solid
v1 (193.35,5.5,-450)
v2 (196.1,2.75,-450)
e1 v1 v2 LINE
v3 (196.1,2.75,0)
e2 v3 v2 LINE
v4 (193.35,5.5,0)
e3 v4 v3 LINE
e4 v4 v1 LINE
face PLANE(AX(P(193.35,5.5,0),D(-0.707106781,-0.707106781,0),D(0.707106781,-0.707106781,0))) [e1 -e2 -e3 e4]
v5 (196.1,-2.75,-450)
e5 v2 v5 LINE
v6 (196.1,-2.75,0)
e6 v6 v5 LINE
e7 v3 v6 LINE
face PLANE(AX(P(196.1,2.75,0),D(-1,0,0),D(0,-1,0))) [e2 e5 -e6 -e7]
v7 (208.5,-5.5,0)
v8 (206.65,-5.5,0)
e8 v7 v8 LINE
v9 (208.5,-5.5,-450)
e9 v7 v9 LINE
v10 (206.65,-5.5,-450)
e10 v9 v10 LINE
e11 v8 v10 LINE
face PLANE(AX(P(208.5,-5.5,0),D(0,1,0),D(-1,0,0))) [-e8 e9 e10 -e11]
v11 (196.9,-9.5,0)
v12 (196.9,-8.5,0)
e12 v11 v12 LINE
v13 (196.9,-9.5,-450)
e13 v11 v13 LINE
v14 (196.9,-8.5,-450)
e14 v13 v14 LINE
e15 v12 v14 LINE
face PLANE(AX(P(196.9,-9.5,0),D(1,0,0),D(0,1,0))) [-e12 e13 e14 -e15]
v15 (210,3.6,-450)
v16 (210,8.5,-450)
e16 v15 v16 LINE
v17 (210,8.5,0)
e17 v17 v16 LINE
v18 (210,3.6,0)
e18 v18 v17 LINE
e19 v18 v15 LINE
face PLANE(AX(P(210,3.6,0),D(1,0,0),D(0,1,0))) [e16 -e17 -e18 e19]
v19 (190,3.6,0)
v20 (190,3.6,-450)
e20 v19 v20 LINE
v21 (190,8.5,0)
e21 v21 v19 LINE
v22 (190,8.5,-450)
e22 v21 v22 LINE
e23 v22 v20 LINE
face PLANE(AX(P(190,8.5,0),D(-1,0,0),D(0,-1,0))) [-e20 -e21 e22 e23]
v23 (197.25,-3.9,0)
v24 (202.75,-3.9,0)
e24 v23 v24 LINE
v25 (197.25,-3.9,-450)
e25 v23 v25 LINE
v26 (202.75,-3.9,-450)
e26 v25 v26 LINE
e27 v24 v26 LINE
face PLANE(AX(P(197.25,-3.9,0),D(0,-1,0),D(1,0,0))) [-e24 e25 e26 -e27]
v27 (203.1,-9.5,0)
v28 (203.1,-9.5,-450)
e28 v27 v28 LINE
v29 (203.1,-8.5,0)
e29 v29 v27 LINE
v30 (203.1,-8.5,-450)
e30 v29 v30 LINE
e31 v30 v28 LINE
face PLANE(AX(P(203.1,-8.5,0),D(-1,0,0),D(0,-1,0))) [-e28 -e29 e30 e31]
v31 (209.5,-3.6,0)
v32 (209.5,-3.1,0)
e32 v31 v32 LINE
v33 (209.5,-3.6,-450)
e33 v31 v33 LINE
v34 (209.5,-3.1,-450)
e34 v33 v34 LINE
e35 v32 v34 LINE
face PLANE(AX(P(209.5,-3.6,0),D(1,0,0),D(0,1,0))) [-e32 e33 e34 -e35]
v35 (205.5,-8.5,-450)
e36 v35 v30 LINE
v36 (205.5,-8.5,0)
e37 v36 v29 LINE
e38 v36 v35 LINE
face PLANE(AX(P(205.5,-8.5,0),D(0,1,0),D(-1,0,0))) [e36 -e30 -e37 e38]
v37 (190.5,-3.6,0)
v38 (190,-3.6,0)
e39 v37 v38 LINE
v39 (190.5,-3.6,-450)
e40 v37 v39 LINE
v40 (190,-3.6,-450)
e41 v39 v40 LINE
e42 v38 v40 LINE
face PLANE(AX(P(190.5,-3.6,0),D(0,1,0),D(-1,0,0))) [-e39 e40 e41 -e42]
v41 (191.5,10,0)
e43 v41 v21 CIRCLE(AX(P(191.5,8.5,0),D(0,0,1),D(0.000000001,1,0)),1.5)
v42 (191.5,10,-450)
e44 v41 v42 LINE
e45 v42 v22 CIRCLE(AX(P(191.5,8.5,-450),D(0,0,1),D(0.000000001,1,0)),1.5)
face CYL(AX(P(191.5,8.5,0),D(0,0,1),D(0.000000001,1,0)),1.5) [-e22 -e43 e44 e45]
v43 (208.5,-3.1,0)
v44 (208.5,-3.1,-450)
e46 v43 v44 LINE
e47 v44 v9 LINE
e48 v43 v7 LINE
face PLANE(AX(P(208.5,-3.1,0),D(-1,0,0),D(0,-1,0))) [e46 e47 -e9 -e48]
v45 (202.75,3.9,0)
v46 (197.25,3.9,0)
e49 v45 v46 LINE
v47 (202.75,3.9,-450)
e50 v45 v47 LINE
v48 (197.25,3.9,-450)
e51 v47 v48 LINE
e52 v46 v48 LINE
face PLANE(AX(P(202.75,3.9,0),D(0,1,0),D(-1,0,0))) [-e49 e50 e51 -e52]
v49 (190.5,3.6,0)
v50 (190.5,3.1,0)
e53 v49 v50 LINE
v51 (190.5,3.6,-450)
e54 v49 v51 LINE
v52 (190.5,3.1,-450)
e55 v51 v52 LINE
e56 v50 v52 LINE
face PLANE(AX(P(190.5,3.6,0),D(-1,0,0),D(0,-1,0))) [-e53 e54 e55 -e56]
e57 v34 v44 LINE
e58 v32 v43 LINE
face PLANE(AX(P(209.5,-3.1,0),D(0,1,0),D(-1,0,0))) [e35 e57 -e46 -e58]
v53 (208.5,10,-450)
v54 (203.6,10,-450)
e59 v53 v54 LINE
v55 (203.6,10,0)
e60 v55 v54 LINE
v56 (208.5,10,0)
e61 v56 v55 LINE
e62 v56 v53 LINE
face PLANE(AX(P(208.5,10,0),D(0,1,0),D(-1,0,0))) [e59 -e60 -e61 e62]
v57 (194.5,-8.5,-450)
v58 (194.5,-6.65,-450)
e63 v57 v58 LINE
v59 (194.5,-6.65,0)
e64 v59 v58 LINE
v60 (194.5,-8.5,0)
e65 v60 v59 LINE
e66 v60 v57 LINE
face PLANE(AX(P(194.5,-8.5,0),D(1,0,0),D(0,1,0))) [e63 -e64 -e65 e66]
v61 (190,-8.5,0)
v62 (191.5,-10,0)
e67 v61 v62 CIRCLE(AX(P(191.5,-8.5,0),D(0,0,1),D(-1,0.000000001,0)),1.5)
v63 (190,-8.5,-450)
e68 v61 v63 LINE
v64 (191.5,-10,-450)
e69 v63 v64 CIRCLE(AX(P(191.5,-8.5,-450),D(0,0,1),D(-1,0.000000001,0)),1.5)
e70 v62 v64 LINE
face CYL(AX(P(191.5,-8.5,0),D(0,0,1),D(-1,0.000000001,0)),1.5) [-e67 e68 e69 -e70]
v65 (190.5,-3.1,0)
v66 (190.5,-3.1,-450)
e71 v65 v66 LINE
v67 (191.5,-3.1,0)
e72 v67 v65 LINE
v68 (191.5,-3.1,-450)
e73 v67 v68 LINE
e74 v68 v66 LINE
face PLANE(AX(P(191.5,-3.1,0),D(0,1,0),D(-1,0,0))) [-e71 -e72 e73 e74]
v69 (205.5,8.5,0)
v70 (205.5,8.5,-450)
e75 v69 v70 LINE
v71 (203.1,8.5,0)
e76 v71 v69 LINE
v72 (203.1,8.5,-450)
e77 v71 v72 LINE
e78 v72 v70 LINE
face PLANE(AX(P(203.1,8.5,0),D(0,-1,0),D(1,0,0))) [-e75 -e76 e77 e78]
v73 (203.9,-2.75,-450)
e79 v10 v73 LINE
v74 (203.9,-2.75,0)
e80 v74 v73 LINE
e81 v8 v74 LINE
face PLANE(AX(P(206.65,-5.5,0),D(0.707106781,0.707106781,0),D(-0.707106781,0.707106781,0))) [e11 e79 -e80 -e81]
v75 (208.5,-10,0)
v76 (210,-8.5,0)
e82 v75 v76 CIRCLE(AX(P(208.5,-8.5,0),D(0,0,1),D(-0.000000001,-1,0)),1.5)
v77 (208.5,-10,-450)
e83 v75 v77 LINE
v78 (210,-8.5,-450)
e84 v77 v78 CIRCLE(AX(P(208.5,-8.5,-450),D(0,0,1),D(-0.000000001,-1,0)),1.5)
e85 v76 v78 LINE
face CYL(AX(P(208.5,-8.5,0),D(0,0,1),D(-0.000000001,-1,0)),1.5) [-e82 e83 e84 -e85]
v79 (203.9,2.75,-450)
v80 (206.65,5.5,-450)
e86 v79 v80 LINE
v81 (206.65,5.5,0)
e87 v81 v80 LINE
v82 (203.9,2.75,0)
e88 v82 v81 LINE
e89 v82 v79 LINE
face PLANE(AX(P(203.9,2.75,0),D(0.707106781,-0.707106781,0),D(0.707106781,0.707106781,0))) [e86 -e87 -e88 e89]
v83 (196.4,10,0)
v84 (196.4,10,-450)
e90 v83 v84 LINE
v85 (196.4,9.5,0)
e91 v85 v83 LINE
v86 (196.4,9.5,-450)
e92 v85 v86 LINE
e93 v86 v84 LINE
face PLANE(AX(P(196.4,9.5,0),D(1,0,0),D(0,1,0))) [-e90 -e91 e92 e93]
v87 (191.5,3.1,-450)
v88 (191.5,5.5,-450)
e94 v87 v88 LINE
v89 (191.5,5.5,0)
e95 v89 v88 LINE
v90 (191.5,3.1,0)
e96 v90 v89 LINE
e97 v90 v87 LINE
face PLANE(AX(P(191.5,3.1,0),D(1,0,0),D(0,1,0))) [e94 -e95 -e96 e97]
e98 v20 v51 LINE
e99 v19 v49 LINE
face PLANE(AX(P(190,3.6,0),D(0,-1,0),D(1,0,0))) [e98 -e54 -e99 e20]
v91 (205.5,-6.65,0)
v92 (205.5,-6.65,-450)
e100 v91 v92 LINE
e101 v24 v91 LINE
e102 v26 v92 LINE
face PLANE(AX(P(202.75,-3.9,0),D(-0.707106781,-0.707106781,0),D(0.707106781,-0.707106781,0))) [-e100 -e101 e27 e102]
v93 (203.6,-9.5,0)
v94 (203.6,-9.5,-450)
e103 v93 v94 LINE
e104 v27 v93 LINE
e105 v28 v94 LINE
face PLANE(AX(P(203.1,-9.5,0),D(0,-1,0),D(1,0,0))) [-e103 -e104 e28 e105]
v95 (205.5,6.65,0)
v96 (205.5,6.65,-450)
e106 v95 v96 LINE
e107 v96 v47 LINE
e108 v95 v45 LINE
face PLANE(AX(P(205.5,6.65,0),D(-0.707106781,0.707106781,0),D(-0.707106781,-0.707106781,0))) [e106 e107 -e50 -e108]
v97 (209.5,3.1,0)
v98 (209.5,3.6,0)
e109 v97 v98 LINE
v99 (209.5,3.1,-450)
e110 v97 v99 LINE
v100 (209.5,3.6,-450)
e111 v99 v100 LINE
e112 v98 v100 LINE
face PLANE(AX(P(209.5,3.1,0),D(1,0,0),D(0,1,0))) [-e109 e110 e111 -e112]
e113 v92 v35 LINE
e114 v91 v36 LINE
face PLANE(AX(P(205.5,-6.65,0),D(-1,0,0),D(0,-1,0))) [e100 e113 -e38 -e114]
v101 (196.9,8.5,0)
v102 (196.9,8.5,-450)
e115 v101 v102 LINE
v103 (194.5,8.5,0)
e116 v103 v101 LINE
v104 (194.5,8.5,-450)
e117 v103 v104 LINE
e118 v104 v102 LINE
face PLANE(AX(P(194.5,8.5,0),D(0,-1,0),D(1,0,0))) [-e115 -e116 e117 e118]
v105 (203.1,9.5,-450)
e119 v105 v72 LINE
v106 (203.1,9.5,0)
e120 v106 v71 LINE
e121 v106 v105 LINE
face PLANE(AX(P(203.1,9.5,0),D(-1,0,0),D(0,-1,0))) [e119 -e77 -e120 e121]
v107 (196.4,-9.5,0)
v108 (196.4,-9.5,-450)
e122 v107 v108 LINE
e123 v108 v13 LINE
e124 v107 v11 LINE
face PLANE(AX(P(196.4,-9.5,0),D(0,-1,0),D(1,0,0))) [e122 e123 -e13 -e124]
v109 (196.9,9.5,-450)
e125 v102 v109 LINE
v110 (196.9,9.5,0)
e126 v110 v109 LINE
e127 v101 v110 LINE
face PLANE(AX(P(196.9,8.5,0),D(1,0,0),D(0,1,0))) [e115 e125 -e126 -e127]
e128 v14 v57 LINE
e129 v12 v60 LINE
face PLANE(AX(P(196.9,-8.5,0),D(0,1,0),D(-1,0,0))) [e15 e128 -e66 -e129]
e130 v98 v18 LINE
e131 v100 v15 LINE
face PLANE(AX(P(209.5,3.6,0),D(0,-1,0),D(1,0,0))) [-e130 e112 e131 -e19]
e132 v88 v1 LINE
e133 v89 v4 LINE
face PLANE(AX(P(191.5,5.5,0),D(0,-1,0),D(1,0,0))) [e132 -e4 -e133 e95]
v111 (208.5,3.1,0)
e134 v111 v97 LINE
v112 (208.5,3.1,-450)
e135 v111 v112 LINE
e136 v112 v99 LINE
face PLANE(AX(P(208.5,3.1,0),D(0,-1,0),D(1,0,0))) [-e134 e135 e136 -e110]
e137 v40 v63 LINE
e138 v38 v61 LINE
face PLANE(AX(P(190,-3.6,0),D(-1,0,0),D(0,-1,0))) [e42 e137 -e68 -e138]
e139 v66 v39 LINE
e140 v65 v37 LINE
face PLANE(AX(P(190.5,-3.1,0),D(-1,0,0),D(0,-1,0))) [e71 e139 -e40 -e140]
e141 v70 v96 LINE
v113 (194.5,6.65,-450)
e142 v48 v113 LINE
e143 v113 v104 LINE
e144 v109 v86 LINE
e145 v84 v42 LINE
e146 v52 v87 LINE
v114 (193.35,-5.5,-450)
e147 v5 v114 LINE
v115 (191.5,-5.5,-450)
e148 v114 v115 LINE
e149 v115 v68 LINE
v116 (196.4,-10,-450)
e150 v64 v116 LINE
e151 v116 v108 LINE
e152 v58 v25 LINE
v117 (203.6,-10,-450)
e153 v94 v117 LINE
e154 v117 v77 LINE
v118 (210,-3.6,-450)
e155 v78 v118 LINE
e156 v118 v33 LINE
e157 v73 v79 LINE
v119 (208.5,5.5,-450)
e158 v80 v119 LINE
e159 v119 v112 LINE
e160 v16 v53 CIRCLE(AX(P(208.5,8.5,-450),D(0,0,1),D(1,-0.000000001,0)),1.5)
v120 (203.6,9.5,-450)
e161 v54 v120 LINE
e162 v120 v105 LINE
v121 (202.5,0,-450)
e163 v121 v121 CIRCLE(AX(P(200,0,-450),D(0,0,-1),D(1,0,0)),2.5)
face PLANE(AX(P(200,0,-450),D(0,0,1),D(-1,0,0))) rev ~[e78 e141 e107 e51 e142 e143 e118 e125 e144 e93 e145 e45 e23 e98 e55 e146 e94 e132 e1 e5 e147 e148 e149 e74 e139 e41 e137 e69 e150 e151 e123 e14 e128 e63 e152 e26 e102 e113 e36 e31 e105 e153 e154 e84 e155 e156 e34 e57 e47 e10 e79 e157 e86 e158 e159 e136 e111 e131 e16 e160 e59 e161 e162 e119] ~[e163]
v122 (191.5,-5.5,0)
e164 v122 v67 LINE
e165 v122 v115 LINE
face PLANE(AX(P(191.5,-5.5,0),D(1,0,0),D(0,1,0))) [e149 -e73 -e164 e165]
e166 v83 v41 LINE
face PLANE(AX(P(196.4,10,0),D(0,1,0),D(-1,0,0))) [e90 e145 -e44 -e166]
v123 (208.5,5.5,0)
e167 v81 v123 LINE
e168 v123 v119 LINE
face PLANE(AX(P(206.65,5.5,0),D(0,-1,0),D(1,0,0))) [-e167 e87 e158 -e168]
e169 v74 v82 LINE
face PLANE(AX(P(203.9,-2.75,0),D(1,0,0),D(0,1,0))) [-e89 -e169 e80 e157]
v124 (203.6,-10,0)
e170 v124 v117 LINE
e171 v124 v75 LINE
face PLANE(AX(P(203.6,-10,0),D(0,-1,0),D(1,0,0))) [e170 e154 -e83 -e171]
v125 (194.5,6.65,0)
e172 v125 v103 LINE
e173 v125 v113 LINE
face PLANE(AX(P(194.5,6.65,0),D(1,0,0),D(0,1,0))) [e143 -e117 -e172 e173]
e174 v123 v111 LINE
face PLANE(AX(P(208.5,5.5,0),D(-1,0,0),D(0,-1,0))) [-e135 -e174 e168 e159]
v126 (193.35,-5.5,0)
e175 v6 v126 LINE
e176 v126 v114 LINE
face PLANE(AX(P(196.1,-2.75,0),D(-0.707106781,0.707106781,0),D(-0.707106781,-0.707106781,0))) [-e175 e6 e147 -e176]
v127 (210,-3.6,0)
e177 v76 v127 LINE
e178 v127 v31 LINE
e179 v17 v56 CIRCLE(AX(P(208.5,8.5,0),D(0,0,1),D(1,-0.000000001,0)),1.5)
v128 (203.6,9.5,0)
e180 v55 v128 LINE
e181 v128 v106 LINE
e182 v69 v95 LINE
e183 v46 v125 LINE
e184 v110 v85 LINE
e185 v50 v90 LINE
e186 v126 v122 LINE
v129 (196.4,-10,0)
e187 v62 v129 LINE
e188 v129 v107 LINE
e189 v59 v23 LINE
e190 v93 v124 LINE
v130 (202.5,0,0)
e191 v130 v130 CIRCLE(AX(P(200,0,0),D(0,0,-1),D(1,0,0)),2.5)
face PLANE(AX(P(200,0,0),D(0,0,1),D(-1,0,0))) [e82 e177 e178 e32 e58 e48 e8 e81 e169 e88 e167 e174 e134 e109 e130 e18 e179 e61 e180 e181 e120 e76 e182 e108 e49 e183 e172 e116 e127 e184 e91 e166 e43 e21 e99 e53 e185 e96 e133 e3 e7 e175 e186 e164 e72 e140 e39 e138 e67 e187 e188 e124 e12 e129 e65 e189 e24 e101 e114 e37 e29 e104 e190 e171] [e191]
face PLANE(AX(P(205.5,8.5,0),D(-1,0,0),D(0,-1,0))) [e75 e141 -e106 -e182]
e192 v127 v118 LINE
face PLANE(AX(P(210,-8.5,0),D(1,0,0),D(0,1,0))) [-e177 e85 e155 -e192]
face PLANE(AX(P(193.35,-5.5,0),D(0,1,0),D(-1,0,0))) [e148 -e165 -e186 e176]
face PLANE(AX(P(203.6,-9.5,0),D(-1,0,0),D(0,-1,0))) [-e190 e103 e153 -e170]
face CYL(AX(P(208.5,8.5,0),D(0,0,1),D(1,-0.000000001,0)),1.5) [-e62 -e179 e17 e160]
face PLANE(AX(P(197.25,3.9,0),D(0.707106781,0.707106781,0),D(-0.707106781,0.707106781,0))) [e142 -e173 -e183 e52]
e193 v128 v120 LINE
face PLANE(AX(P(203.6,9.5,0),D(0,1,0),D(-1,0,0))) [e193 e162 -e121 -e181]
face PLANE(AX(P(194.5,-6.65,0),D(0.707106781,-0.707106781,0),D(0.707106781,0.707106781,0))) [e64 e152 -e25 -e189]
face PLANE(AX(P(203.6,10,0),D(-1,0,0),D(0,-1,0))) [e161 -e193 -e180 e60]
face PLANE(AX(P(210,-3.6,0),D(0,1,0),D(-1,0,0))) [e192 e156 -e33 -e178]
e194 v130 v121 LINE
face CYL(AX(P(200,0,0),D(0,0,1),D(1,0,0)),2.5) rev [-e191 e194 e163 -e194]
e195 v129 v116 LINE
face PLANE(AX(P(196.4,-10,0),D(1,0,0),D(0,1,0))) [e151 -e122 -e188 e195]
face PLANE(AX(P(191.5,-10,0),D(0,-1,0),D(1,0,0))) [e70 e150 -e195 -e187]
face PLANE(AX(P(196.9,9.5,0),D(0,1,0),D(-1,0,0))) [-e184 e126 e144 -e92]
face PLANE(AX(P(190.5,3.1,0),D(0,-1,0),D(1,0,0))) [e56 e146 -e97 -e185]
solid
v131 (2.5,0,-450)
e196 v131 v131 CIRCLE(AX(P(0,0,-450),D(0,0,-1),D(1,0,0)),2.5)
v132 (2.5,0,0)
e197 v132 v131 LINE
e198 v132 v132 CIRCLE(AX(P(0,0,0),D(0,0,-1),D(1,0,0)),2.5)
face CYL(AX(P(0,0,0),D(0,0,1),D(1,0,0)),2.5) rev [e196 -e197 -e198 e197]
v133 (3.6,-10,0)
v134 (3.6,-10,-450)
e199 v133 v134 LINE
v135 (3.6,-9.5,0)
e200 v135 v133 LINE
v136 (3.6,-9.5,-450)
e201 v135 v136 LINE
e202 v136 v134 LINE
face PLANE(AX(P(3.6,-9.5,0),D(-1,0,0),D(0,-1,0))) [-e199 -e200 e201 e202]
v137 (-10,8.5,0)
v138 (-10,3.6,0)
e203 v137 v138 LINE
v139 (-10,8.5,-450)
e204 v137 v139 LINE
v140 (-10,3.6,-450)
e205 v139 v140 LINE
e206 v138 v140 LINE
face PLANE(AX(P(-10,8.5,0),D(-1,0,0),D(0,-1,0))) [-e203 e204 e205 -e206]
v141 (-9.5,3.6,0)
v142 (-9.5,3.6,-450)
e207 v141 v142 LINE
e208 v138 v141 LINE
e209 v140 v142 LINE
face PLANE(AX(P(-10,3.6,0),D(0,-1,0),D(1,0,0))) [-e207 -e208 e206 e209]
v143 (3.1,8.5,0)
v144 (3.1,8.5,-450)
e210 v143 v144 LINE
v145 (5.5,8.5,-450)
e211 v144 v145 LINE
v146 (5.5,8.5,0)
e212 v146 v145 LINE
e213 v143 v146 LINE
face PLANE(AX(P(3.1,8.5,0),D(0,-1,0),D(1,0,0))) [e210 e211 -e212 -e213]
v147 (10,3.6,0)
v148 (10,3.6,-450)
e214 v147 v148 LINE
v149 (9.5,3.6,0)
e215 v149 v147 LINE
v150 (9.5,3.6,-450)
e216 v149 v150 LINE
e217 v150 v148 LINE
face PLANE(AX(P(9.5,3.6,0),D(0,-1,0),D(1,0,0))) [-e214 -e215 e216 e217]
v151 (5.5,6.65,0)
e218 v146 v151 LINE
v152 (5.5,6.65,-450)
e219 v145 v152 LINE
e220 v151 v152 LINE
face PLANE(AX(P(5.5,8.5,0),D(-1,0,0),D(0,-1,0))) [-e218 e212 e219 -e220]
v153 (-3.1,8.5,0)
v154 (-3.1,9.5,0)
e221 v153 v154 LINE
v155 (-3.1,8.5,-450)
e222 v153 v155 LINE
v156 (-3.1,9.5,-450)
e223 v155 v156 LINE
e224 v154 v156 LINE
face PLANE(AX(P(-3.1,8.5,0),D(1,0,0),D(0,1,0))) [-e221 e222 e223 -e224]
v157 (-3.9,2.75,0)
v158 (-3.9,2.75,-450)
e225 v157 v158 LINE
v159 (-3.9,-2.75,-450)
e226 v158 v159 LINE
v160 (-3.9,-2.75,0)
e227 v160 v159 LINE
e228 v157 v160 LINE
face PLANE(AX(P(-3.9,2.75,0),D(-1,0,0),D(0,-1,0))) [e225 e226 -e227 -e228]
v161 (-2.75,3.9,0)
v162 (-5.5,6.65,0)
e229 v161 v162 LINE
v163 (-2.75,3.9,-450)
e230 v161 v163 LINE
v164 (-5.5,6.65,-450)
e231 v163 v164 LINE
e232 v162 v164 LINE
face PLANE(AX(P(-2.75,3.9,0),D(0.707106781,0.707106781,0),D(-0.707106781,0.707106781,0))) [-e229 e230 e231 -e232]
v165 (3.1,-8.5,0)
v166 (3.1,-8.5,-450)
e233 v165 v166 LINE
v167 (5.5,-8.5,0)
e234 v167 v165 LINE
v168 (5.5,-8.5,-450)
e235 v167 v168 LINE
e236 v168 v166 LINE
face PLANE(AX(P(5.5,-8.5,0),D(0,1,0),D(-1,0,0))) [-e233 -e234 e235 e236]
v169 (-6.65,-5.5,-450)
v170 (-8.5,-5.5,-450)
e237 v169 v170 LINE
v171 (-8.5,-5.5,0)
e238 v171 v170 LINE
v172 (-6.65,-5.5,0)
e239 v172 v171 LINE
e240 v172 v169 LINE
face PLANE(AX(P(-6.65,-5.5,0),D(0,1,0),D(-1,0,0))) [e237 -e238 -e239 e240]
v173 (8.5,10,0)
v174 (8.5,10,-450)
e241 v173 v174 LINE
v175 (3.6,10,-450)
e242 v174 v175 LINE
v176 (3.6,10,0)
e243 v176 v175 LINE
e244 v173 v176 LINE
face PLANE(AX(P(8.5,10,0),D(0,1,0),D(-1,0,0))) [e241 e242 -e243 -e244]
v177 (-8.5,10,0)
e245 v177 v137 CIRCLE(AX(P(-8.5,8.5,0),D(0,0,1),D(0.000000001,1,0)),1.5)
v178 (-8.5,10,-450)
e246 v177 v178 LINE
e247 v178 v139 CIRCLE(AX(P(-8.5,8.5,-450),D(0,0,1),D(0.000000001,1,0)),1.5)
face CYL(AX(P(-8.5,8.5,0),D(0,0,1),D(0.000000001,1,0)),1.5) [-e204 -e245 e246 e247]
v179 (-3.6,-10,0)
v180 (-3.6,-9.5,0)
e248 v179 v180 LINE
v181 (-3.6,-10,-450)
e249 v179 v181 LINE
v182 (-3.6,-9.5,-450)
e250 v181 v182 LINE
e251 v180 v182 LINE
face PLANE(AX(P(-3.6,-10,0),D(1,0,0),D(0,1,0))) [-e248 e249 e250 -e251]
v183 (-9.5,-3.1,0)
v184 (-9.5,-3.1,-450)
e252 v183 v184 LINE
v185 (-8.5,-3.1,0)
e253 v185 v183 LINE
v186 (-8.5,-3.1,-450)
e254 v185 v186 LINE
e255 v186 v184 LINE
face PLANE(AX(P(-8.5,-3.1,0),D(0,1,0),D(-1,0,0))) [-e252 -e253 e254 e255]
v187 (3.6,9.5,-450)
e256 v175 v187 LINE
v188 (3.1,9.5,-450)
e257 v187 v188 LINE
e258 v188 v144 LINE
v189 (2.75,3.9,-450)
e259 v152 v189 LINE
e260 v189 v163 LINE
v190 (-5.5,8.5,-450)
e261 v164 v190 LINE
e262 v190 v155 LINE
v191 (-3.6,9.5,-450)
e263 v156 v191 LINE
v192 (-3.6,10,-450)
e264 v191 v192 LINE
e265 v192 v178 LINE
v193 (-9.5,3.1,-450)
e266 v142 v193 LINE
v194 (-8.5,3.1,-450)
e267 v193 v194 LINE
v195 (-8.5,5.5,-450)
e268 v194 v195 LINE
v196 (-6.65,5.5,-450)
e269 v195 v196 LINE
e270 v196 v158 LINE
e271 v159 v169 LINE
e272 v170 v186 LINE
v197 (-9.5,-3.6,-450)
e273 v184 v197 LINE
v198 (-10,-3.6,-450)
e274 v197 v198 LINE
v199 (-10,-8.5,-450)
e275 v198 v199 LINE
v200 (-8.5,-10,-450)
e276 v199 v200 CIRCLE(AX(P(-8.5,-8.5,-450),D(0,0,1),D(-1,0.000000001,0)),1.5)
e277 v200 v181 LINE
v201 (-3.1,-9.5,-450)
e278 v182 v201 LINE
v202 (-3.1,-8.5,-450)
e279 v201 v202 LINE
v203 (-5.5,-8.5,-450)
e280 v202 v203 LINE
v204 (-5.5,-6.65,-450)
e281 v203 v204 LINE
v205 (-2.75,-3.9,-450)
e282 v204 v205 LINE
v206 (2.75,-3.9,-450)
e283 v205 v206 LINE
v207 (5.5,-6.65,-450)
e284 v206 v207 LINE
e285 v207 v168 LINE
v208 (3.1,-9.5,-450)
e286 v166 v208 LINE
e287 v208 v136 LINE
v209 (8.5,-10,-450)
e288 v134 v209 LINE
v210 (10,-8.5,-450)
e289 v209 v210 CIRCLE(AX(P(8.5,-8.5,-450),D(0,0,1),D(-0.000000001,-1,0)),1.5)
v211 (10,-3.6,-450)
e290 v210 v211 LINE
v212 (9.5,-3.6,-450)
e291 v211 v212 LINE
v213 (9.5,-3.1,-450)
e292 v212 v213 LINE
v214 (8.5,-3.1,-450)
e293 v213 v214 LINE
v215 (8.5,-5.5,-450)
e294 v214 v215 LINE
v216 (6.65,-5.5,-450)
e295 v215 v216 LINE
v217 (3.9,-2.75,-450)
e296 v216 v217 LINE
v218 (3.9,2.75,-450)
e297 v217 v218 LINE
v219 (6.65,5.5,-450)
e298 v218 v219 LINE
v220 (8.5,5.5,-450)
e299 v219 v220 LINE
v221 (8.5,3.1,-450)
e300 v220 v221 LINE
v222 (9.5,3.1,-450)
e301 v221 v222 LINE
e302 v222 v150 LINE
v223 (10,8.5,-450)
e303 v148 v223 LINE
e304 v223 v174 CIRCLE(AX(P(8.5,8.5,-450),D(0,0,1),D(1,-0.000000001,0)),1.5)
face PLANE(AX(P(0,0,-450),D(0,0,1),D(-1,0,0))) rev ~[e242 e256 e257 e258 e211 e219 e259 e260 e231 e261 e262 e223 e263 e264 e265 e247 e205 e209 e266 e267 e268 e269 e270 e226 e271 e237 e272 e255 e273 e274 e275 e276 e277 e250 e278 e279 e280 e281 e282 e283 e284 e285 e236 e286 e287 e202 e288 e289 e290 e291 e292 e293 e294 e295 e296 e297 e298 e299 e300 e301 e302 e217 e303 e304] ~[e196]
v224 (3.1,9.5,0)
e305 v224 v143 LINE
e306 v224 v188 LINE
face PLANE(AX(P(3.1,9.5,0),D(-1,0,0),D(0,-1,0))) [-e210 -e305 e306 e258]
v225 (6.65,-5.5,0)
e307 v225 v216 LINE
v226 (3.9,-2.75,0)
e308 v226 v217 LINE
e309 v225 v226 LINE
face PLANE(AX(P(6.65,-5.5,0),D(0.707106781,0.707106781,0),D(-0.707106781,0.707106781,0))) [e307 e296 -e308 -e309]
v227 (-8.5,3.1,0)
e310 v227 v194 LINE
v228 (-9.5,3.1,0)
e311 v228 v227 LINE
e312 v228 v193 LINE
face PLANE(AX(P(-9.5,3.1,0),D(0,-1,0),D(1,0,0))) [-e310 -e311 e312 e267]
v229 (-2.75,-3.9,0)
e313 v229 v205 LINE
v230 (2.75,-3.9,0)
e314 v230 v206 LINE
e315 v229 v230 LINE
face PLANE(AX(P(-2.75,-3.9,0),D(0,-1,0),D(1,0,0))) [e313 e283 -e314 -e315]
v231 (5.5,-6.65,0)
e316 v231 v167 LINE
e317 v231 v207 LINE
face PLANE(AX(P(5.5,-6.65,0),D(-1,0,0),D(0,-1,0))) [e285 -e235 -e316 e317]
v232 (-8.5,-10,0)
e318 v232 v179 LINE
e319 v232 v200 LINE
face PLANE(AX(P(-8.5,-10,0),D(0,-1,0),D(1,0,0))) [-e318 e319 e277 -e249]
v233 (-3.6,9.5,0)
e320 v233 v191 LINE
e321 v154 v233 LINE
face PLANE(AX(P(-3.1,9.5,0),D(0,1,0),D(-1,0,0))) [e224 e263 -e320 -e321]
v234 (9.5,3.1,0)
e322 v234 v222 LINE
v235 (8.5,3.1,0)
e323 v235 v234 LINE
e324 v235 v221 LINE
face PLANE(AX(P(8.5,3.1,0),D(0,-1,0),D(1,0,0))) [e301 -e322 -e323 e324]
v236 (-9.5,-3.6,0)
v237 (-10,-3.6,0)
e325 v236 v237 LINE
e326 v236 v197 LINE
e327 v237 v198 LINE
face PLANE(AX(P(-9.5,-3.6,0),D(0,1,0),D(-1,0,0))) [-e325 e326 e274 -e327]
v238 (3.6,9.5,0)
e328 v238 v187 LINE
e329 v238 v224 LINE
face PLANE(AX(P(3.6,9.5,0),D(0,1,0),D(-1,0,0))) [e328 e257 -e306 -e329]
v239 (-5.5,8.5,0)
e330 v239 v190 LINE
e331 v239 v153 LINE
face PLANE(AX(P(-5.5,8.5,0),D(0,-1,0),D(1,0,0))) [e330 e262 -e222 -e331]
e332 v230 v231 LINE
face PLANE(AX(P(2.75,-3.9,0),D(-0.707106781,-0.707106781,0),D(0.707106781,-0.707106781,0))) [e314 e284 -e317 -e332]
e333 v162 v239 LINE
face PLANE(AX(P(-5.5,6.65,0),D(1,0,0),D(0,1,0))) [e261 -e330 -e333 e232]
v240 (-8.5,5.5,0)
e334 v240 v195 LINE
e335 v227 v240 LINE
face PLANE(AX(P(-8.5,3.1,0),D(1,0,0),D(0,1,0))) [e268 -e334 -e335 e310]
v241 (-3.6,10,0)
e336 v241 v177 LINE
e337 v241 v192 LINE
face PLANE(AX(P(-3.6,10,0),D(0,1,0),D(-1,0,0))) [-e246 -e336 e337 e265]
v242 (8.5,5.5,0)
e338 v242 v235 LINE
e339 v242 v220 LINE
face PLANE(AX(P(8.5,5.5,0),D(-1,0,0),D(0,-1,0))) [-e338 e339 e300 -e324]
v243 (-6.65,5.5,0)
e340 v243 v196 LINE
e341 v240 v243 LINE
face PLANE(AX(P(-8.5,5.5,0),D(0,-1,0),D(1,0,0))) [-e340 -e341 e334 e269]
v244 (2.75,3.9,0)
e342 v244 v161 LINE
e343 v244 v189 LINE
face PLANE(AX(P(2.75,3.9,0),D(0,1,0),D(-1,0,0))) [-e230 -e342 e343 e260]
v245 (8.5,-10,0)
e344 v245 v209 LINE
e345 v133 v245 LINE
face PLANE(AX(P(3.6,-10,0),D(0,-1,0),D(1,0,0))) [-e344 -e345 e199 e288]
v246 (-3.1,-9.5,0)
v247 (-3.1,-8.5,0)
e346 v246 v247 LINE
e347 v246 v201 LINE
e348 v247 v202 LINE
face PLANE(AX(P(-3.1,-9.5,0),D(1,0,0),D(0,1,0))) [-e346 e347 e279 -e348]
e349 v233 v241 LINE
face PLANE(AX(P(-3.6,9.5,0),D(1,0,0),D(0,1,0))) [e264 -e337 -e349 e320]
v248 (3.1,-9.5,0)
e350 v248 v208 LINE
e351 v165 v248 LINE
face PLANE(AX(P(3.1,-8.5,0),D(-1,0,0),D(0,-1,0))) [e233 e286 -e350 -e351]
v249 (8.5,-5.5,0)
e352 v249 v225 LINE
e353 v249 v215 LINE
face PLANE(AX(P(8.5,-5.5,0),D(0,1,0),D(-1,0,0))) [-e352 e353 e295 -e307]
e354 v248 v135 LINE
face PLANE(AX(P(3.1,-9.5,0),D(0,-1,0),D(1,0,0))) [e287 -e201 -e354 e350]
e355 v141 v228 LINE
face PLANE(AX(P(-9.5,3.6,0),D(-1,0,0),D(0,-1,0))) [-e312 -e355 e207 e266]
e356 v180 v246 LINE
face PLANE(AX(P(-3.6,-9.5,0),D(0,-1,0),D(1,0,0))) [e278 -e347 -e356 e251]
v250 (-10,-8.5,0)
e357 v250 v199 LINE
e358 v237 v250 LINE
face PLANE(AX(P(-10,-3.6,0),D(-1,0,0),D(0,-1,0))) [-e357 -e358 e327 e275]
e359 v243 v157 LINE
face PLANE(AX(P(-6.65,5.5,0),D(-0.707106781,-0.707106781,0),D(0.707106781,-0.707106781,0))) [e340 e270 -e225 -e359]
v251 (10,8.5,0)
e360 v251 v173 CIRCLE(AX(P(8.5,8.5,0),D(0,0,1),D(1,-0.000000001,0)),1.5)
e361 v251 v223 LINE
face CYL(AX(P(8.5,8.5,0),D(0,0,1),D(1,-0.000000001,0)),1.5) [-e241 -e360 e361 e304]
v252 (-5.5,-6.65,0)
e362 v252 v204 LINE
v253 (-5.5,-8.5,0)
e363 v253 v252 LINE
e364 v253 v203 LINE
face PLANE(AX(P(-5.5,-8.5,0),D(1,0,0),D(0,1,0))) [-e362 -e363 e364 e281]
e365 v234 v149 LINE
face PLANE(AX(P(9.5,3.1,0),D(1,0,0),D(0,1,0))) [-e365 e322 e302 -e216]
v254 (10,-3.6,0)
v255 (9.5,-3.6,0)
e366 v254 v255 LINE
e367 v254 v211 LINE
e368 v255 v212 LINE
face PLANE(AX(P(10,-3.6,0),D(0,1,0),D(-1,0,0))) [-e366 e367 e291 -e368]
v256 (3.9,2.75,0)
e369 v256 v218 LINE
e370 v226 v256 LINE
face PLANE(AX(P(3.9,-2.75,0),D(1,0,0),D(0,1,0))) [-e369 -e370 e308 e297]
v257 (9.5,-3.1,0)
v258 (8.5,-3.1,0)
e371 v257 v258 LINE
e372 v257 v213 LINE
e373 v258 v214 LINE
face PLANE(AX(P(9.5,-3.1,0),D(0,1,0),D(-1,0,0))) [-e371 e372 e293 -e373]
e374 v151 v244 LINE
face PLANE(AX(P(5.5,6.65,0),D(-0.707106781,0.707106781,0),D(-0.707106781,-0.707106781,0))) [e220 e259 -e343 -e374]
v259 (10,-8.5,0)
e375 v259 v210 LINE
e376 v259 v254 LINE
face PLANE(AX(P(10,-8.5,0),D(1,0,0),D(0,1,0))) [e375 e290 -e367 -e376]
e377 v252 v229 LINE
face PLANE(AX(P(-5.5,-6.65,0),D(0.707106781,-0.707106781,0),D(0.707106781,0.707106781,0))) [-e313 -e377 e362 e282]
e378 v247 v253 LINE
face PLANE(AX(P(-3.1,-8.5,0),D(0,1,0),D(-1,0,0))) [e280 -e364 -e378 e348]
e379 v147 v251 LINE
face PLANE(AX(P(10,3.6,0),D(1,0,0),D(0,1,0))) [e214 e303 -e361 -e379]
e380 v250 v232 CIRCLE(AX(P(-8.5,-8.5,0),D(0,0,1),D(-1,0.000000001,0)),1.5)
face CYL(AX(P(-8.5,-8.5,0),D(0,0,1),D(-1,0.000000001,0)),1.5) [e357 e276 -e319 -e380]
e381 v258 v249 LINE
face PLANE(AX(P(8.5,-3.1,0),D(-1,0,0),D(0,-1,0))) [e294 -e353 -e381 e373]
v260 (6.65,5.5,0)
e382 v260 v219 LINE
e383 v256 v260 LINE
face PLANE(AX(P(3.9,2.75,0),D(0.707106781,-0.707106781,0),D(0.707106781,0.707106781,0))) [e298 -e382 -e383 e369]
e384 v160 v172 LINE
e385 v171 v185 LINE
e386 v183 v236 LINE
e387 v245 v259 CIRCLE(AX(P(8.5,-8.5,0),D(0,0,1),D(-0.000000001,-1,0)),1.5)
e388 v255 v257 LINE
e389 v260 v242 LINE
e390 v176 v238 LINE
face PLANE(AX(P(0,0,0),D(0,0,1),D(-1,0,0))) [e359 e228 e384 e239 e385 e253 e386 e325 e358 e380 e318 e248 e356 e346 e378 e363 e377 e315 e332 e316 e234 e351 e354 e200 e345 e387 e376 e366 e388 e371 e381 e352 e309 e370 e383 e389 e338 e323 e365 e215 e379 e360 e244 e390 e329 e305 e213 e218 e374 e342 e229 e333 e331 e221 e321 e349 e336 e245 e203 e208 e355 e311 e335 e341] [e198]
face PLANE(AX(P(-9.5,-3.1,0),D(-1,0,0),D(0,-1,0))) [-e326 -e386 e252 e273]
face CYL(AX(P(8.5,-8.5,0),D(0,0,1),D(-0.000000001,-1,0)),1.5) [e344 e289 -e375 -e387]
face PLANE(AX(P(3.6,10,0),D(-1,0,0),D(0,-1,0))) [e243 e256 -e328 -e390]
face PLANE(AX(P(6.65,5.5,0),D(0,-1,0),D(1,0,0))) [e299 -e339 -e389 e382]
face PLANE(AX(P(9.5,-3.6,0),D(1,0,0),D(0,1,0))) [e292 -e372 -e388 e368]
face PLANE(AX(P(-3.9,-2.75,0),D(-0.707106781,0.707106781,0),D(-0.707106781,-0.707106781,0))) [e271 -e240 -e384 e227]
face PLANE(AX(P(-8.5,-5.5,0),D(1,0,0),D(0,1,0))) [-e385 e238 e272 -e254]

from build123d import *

# Parameters (mm, degrees)
SKETCH1_R                  = 2.5
F_20_X_20_X_R1_5_1_DEPTH   = 450
SKETCH1_ON_SEGMENT_2_R     = 2.5
F_20_X_20_X_R1_5_1_2_DEPTH = 450


with BuildPart() as part:
    # Sketch1 → 工业铝型材 20 X 20 X R1.5(1) (new body)
    with BuildSketch(Plane(origin=(0, 0, 0), x_dir=(1, 0, 0), z_dir=(0, 0, -1))):
        with BuildLine():
            Line((-3.6, 10), (-3.6, 9.5))
            Line((-3.6, 9.5), (-3.1, 9.5))
            Line((-3.1, 9.5), (-3.1, 8.5))
            Line((-3.1, 8.5), (-5.5, 8.5))
            Line((-5.5, 8.5), (-5.5, 6.65))
            Line((-5.5, 6.65), (-2.75, 3.9))
            Line((-2.75, 3.9), (2.75, 3.9))
            Line((2.75, 3.9), (5.5, 6.65))
            Line((5.5, 6.65), (5.5, 8.5))
            Line((5.5, 8.5), (3.1, 8.5))
            Line((3.1, 8.5), (3.1, 9.5))
            Line((3.1, 9.5), (3.6, 9.5))
            Line((3.6, 9.5), (3.6, 10))
            Line((3.6, 10), (8.5, 10))
            ThreePointArc((8.5, 10), (9.560660172, 9.560660172), (10, 8.5))
            Line((10, 8.5), (10, 3.6))
            Line((10, 3.6), (9.5, 3.6))
            Line((9.5, 3.6), (9.5, 3.1))
            Line((9.5, 3.1), (8.5, 3.1))
            Line((8.5, 3.1), (8.5, 5.5))
            Line((8.5, 5.5), (6.65, 5.5))
            Line((6.65, 5.5), (3.9, 2.75))
            Line((3.9, 2.75), (3.9, -2.75))
            Line((3.9, -2.75), (6.65, -5.5))
            Line((6.65, -5.5), (8.5, -5.5))
            Line((8.5, -5.5), (8.5, -3.1))
            Line((8.5, -3.1), (9.5, -3.1))
            Line((9.5, -3.1), (9.5, -3.6))
            Line((9.5, -3.6), (10, -3.6))
            Line((10, -3.6), (10, -8.5))
            ThreePointArc((10, -8.5), (9.560660172, -9.560660172), (8.5, -10))
            Line((8.5, -10), (3.6, -10))
            Line((3.6, -10), (3.6, -9.5))
            Line((3.6, -9.5), (3.1, -9.5))
            Line((3.1, -9.5), (3.1, -8.5))
            Line((3.1, -8.5), (5.5, -8.5))
            Line((5.5, -8.5), (5.5, -6.65))
            Line((5.5, -6.65), (2.75, -3.9))
            Line((2.75, -3.9), (-2.75, -3.9))
            Line((-2.75, -3.9), (-5.5, -6.65))
            Line((-5.5, -6.65), (-5.5, -8.5))
            Line((-5.5, -8.5), (-3.1, -8.5))
            Line((-3.1, -8.5), (-3.1, -9.5))
            Line((-3.1, -9.5), (-3.6, -9.5))
            Line((-3.6, -9.5), (-3.6, -10))
            Line((-3.6, -10), (-8.5, -10))
            ThreePointArc((-8.5, -10), (-9.560660172, -9.560660172), (-10, -8.5))
            Line((-10, -8.5), (-10, -3.6))
            Line((-10, -3.6), (-9.5, -3.6))
            Line((-9.5, -3.6), (-9.5, -3.1))
            Line((-9.5, -3.1), (-8.5, -3.1))
            Line((-8.5, -3.1), (-8.5, -5.5))
            Line((-8.5, -5.5), (-6.65, -5.5))
            Line((-6.65, -5.5), (-3.9, -2.75))
            Line((-3.9, -2.75), (-3.9, 2.75))
            Line((-3.9, 2.75), (-6.65, 5.5))
            Line((-6.65, 5.5), (-8.5, 5.5))
            Line((-8.5, 5.5), (-8.5, 3.1))
            Line((-8.5, 3.1), (-9.5, 3.1))
            Line((-9.5, 3.1), (-9.5, 3.6))
            Line((-9.5, 3.6), (-10, 3.6))
            Line((-10, 3.6), (-10, 8.5))
            ThreePointArc((-10, 8.5), (-9.560660172, 9.560660172), (-8.5, 10))
            Line((-8.5, 10), (-3.6, 10))
        make_face()
        Circle(SKETCH1_R, mode=Mode.SUBTRACT)
    extrude(amount=F_20_X_20_X_R1_5_1_DEPTH)


with BuildPart() as body_2:
    # Sketch1 on segment 2 (carried to segment 2) → 20 X 20 X R1.5_1 2 (new body)
    with BuildSketch(Plane(origin=(200, 0, 0), x_dir=(1, 0, 0), z_dir=(0, 0, -1))):
        with BuildLine():
            Line((-3.6, 10), (-3.6, 9.5))
            Line((-3.6, 9.5), (-3.1, 9.5))
            Line((-3.1, 9.5), (-3.1, 8.5))
            Line((-3.1, 8.5), (-5.5, 8.5))
            Line((-5.5, 8.5), (-5.5, 6.65))
            Line((-5.5, 6.65), (-2.75, 3.9))
            Line((-2.75, 3.9), (2.75, 3.9))
            Line((2.75, 3.9), (5.5, 6.65))
            Line((5.5, 6.65), (5.5, 8.5))
            Line((5.5, 8.5), (3.1, 8.5))
            Line((3.1, 8.5), (3.1, 9.5))
            Line((3.1, 9.5), (3.6, 9.5))
            Line((3.6, 9.5), (3.6, 10))
            Line((3.6, 10), (8.5, 10))
            ThreePointArc((8.5, 10), (9.560660172, 9.560660172), (10, 8.5))
            Line((10, 8.5), (10, 3.6))
            Line((10, 3.6), (9.5, 3.6))
            Line((9.5, 3.6), (9.5, 3.1))
            Line((9.5, 3.1), (8.5, 3.1))
            Line((8.5, 3.1), (8.5, 5.5))
            Line((8.5, 5.5), (6.65, 5.5))
            Line((6.65, 5.5), (3.9, 2.75))
            Line((3.9, 2.75), (3.9, -2.75))
            Line((3.9, -2.75), (6.65, -5.5))
            Line((6.65, -5.5), (8.5, -5.5))
            Line((8.5, -5.5), (8.5, -3.1))
            Line((8.5, -3.1), (9.5, -3.1))
            Line((9.5, -3.1), (9.5, -3.6))
            Line((9.5, -3.6), (10, -3.6))
            Line((10, -3.6), (10, -8.5))
            ThreePointArc((10, -8.5), (9.560660172, -9.560660172), (8.5, -10))
            Line((8.5, -10), (3.6, -10))
            Line((3.6, -10), (3.6, -9.5))
            Line((3.6, -9.5), (3.1, -9.5))
            Line((3.1, -9.5), (3.1, -8.5))
            Line((3.1, -8.5), (5.5, -8.5))
            Line((5.5, -8.5), (5.5, -6.65))
            Line((5.5, -6.65), (2.75, -3.9))
            Line((2.75, -3.9), (-2.75, -3.9))
            Line((-2.75, -3.9), (-5.5, -6.65))
            Line((-5.5, -6.65), (-5.5, -8.5))
            Line((-5.5, -8.5), (-3.1, -8.5))
            Line((-3.1, -8.5), (-3.1, -9.5))
            Line((-3.1, -9.5), (-3.6, -9.5))
            Line((-3.6, -9.5), (-3.6, -10))
            Line((-3.6, -10), (-8.5, -10))
            ThreePointArc((-8.5, -10), (-9.560660172, -9.560660172), (-10, -8.5))
            Line((-10, -8.5), (-10, -3.6))
            Line((-10, -3.6), (-9.5, -3.6))
            Line((-9.5, -3.6), (-9.5, -3.1))
            Line((-9.5, -3.1), (-8.5, -3.1))
            Line((-8.5, -3.1), (-8.5, -5.5))
            Line((-8.5, -5.5), (-6.65, -5.5))
            Line((-6.65, -5.5), (-3.9, -2.75))
            Line((-3.9, -2.75), (-3.9, 2.75))
            Line((-3.9, 2.75), (-6.65, 5.5))
            Line((-6.65, 5.5), (-8.5, 5.5))
            Line((-8.5, 5.5), (-8.5, 3.1))
            Line((-8.5, 3.1), (-9.5, 3.1))
            Line((-9.5, 3.1), (-9.5, 3.6))
            Line((-9.5, 3.6), (-10, 3.6))
            Line((-10, 3.6), (-10, 8.5))
            ThreePointArc((-10, 8.5), (-9.560660172, 9.560660172), (-8.5, 10))
            Line((-8.5, 10), (-3.6, 10))
        make_face()
        Circle(SKETCH1_ON_SEGMENT_2_R, mode=Mode.SUBTRACT)
    extrude(amount=F_20_X_20_X_R1_5_1_2_DEPTH)


solid = Compound([part.part, body_2.part])
